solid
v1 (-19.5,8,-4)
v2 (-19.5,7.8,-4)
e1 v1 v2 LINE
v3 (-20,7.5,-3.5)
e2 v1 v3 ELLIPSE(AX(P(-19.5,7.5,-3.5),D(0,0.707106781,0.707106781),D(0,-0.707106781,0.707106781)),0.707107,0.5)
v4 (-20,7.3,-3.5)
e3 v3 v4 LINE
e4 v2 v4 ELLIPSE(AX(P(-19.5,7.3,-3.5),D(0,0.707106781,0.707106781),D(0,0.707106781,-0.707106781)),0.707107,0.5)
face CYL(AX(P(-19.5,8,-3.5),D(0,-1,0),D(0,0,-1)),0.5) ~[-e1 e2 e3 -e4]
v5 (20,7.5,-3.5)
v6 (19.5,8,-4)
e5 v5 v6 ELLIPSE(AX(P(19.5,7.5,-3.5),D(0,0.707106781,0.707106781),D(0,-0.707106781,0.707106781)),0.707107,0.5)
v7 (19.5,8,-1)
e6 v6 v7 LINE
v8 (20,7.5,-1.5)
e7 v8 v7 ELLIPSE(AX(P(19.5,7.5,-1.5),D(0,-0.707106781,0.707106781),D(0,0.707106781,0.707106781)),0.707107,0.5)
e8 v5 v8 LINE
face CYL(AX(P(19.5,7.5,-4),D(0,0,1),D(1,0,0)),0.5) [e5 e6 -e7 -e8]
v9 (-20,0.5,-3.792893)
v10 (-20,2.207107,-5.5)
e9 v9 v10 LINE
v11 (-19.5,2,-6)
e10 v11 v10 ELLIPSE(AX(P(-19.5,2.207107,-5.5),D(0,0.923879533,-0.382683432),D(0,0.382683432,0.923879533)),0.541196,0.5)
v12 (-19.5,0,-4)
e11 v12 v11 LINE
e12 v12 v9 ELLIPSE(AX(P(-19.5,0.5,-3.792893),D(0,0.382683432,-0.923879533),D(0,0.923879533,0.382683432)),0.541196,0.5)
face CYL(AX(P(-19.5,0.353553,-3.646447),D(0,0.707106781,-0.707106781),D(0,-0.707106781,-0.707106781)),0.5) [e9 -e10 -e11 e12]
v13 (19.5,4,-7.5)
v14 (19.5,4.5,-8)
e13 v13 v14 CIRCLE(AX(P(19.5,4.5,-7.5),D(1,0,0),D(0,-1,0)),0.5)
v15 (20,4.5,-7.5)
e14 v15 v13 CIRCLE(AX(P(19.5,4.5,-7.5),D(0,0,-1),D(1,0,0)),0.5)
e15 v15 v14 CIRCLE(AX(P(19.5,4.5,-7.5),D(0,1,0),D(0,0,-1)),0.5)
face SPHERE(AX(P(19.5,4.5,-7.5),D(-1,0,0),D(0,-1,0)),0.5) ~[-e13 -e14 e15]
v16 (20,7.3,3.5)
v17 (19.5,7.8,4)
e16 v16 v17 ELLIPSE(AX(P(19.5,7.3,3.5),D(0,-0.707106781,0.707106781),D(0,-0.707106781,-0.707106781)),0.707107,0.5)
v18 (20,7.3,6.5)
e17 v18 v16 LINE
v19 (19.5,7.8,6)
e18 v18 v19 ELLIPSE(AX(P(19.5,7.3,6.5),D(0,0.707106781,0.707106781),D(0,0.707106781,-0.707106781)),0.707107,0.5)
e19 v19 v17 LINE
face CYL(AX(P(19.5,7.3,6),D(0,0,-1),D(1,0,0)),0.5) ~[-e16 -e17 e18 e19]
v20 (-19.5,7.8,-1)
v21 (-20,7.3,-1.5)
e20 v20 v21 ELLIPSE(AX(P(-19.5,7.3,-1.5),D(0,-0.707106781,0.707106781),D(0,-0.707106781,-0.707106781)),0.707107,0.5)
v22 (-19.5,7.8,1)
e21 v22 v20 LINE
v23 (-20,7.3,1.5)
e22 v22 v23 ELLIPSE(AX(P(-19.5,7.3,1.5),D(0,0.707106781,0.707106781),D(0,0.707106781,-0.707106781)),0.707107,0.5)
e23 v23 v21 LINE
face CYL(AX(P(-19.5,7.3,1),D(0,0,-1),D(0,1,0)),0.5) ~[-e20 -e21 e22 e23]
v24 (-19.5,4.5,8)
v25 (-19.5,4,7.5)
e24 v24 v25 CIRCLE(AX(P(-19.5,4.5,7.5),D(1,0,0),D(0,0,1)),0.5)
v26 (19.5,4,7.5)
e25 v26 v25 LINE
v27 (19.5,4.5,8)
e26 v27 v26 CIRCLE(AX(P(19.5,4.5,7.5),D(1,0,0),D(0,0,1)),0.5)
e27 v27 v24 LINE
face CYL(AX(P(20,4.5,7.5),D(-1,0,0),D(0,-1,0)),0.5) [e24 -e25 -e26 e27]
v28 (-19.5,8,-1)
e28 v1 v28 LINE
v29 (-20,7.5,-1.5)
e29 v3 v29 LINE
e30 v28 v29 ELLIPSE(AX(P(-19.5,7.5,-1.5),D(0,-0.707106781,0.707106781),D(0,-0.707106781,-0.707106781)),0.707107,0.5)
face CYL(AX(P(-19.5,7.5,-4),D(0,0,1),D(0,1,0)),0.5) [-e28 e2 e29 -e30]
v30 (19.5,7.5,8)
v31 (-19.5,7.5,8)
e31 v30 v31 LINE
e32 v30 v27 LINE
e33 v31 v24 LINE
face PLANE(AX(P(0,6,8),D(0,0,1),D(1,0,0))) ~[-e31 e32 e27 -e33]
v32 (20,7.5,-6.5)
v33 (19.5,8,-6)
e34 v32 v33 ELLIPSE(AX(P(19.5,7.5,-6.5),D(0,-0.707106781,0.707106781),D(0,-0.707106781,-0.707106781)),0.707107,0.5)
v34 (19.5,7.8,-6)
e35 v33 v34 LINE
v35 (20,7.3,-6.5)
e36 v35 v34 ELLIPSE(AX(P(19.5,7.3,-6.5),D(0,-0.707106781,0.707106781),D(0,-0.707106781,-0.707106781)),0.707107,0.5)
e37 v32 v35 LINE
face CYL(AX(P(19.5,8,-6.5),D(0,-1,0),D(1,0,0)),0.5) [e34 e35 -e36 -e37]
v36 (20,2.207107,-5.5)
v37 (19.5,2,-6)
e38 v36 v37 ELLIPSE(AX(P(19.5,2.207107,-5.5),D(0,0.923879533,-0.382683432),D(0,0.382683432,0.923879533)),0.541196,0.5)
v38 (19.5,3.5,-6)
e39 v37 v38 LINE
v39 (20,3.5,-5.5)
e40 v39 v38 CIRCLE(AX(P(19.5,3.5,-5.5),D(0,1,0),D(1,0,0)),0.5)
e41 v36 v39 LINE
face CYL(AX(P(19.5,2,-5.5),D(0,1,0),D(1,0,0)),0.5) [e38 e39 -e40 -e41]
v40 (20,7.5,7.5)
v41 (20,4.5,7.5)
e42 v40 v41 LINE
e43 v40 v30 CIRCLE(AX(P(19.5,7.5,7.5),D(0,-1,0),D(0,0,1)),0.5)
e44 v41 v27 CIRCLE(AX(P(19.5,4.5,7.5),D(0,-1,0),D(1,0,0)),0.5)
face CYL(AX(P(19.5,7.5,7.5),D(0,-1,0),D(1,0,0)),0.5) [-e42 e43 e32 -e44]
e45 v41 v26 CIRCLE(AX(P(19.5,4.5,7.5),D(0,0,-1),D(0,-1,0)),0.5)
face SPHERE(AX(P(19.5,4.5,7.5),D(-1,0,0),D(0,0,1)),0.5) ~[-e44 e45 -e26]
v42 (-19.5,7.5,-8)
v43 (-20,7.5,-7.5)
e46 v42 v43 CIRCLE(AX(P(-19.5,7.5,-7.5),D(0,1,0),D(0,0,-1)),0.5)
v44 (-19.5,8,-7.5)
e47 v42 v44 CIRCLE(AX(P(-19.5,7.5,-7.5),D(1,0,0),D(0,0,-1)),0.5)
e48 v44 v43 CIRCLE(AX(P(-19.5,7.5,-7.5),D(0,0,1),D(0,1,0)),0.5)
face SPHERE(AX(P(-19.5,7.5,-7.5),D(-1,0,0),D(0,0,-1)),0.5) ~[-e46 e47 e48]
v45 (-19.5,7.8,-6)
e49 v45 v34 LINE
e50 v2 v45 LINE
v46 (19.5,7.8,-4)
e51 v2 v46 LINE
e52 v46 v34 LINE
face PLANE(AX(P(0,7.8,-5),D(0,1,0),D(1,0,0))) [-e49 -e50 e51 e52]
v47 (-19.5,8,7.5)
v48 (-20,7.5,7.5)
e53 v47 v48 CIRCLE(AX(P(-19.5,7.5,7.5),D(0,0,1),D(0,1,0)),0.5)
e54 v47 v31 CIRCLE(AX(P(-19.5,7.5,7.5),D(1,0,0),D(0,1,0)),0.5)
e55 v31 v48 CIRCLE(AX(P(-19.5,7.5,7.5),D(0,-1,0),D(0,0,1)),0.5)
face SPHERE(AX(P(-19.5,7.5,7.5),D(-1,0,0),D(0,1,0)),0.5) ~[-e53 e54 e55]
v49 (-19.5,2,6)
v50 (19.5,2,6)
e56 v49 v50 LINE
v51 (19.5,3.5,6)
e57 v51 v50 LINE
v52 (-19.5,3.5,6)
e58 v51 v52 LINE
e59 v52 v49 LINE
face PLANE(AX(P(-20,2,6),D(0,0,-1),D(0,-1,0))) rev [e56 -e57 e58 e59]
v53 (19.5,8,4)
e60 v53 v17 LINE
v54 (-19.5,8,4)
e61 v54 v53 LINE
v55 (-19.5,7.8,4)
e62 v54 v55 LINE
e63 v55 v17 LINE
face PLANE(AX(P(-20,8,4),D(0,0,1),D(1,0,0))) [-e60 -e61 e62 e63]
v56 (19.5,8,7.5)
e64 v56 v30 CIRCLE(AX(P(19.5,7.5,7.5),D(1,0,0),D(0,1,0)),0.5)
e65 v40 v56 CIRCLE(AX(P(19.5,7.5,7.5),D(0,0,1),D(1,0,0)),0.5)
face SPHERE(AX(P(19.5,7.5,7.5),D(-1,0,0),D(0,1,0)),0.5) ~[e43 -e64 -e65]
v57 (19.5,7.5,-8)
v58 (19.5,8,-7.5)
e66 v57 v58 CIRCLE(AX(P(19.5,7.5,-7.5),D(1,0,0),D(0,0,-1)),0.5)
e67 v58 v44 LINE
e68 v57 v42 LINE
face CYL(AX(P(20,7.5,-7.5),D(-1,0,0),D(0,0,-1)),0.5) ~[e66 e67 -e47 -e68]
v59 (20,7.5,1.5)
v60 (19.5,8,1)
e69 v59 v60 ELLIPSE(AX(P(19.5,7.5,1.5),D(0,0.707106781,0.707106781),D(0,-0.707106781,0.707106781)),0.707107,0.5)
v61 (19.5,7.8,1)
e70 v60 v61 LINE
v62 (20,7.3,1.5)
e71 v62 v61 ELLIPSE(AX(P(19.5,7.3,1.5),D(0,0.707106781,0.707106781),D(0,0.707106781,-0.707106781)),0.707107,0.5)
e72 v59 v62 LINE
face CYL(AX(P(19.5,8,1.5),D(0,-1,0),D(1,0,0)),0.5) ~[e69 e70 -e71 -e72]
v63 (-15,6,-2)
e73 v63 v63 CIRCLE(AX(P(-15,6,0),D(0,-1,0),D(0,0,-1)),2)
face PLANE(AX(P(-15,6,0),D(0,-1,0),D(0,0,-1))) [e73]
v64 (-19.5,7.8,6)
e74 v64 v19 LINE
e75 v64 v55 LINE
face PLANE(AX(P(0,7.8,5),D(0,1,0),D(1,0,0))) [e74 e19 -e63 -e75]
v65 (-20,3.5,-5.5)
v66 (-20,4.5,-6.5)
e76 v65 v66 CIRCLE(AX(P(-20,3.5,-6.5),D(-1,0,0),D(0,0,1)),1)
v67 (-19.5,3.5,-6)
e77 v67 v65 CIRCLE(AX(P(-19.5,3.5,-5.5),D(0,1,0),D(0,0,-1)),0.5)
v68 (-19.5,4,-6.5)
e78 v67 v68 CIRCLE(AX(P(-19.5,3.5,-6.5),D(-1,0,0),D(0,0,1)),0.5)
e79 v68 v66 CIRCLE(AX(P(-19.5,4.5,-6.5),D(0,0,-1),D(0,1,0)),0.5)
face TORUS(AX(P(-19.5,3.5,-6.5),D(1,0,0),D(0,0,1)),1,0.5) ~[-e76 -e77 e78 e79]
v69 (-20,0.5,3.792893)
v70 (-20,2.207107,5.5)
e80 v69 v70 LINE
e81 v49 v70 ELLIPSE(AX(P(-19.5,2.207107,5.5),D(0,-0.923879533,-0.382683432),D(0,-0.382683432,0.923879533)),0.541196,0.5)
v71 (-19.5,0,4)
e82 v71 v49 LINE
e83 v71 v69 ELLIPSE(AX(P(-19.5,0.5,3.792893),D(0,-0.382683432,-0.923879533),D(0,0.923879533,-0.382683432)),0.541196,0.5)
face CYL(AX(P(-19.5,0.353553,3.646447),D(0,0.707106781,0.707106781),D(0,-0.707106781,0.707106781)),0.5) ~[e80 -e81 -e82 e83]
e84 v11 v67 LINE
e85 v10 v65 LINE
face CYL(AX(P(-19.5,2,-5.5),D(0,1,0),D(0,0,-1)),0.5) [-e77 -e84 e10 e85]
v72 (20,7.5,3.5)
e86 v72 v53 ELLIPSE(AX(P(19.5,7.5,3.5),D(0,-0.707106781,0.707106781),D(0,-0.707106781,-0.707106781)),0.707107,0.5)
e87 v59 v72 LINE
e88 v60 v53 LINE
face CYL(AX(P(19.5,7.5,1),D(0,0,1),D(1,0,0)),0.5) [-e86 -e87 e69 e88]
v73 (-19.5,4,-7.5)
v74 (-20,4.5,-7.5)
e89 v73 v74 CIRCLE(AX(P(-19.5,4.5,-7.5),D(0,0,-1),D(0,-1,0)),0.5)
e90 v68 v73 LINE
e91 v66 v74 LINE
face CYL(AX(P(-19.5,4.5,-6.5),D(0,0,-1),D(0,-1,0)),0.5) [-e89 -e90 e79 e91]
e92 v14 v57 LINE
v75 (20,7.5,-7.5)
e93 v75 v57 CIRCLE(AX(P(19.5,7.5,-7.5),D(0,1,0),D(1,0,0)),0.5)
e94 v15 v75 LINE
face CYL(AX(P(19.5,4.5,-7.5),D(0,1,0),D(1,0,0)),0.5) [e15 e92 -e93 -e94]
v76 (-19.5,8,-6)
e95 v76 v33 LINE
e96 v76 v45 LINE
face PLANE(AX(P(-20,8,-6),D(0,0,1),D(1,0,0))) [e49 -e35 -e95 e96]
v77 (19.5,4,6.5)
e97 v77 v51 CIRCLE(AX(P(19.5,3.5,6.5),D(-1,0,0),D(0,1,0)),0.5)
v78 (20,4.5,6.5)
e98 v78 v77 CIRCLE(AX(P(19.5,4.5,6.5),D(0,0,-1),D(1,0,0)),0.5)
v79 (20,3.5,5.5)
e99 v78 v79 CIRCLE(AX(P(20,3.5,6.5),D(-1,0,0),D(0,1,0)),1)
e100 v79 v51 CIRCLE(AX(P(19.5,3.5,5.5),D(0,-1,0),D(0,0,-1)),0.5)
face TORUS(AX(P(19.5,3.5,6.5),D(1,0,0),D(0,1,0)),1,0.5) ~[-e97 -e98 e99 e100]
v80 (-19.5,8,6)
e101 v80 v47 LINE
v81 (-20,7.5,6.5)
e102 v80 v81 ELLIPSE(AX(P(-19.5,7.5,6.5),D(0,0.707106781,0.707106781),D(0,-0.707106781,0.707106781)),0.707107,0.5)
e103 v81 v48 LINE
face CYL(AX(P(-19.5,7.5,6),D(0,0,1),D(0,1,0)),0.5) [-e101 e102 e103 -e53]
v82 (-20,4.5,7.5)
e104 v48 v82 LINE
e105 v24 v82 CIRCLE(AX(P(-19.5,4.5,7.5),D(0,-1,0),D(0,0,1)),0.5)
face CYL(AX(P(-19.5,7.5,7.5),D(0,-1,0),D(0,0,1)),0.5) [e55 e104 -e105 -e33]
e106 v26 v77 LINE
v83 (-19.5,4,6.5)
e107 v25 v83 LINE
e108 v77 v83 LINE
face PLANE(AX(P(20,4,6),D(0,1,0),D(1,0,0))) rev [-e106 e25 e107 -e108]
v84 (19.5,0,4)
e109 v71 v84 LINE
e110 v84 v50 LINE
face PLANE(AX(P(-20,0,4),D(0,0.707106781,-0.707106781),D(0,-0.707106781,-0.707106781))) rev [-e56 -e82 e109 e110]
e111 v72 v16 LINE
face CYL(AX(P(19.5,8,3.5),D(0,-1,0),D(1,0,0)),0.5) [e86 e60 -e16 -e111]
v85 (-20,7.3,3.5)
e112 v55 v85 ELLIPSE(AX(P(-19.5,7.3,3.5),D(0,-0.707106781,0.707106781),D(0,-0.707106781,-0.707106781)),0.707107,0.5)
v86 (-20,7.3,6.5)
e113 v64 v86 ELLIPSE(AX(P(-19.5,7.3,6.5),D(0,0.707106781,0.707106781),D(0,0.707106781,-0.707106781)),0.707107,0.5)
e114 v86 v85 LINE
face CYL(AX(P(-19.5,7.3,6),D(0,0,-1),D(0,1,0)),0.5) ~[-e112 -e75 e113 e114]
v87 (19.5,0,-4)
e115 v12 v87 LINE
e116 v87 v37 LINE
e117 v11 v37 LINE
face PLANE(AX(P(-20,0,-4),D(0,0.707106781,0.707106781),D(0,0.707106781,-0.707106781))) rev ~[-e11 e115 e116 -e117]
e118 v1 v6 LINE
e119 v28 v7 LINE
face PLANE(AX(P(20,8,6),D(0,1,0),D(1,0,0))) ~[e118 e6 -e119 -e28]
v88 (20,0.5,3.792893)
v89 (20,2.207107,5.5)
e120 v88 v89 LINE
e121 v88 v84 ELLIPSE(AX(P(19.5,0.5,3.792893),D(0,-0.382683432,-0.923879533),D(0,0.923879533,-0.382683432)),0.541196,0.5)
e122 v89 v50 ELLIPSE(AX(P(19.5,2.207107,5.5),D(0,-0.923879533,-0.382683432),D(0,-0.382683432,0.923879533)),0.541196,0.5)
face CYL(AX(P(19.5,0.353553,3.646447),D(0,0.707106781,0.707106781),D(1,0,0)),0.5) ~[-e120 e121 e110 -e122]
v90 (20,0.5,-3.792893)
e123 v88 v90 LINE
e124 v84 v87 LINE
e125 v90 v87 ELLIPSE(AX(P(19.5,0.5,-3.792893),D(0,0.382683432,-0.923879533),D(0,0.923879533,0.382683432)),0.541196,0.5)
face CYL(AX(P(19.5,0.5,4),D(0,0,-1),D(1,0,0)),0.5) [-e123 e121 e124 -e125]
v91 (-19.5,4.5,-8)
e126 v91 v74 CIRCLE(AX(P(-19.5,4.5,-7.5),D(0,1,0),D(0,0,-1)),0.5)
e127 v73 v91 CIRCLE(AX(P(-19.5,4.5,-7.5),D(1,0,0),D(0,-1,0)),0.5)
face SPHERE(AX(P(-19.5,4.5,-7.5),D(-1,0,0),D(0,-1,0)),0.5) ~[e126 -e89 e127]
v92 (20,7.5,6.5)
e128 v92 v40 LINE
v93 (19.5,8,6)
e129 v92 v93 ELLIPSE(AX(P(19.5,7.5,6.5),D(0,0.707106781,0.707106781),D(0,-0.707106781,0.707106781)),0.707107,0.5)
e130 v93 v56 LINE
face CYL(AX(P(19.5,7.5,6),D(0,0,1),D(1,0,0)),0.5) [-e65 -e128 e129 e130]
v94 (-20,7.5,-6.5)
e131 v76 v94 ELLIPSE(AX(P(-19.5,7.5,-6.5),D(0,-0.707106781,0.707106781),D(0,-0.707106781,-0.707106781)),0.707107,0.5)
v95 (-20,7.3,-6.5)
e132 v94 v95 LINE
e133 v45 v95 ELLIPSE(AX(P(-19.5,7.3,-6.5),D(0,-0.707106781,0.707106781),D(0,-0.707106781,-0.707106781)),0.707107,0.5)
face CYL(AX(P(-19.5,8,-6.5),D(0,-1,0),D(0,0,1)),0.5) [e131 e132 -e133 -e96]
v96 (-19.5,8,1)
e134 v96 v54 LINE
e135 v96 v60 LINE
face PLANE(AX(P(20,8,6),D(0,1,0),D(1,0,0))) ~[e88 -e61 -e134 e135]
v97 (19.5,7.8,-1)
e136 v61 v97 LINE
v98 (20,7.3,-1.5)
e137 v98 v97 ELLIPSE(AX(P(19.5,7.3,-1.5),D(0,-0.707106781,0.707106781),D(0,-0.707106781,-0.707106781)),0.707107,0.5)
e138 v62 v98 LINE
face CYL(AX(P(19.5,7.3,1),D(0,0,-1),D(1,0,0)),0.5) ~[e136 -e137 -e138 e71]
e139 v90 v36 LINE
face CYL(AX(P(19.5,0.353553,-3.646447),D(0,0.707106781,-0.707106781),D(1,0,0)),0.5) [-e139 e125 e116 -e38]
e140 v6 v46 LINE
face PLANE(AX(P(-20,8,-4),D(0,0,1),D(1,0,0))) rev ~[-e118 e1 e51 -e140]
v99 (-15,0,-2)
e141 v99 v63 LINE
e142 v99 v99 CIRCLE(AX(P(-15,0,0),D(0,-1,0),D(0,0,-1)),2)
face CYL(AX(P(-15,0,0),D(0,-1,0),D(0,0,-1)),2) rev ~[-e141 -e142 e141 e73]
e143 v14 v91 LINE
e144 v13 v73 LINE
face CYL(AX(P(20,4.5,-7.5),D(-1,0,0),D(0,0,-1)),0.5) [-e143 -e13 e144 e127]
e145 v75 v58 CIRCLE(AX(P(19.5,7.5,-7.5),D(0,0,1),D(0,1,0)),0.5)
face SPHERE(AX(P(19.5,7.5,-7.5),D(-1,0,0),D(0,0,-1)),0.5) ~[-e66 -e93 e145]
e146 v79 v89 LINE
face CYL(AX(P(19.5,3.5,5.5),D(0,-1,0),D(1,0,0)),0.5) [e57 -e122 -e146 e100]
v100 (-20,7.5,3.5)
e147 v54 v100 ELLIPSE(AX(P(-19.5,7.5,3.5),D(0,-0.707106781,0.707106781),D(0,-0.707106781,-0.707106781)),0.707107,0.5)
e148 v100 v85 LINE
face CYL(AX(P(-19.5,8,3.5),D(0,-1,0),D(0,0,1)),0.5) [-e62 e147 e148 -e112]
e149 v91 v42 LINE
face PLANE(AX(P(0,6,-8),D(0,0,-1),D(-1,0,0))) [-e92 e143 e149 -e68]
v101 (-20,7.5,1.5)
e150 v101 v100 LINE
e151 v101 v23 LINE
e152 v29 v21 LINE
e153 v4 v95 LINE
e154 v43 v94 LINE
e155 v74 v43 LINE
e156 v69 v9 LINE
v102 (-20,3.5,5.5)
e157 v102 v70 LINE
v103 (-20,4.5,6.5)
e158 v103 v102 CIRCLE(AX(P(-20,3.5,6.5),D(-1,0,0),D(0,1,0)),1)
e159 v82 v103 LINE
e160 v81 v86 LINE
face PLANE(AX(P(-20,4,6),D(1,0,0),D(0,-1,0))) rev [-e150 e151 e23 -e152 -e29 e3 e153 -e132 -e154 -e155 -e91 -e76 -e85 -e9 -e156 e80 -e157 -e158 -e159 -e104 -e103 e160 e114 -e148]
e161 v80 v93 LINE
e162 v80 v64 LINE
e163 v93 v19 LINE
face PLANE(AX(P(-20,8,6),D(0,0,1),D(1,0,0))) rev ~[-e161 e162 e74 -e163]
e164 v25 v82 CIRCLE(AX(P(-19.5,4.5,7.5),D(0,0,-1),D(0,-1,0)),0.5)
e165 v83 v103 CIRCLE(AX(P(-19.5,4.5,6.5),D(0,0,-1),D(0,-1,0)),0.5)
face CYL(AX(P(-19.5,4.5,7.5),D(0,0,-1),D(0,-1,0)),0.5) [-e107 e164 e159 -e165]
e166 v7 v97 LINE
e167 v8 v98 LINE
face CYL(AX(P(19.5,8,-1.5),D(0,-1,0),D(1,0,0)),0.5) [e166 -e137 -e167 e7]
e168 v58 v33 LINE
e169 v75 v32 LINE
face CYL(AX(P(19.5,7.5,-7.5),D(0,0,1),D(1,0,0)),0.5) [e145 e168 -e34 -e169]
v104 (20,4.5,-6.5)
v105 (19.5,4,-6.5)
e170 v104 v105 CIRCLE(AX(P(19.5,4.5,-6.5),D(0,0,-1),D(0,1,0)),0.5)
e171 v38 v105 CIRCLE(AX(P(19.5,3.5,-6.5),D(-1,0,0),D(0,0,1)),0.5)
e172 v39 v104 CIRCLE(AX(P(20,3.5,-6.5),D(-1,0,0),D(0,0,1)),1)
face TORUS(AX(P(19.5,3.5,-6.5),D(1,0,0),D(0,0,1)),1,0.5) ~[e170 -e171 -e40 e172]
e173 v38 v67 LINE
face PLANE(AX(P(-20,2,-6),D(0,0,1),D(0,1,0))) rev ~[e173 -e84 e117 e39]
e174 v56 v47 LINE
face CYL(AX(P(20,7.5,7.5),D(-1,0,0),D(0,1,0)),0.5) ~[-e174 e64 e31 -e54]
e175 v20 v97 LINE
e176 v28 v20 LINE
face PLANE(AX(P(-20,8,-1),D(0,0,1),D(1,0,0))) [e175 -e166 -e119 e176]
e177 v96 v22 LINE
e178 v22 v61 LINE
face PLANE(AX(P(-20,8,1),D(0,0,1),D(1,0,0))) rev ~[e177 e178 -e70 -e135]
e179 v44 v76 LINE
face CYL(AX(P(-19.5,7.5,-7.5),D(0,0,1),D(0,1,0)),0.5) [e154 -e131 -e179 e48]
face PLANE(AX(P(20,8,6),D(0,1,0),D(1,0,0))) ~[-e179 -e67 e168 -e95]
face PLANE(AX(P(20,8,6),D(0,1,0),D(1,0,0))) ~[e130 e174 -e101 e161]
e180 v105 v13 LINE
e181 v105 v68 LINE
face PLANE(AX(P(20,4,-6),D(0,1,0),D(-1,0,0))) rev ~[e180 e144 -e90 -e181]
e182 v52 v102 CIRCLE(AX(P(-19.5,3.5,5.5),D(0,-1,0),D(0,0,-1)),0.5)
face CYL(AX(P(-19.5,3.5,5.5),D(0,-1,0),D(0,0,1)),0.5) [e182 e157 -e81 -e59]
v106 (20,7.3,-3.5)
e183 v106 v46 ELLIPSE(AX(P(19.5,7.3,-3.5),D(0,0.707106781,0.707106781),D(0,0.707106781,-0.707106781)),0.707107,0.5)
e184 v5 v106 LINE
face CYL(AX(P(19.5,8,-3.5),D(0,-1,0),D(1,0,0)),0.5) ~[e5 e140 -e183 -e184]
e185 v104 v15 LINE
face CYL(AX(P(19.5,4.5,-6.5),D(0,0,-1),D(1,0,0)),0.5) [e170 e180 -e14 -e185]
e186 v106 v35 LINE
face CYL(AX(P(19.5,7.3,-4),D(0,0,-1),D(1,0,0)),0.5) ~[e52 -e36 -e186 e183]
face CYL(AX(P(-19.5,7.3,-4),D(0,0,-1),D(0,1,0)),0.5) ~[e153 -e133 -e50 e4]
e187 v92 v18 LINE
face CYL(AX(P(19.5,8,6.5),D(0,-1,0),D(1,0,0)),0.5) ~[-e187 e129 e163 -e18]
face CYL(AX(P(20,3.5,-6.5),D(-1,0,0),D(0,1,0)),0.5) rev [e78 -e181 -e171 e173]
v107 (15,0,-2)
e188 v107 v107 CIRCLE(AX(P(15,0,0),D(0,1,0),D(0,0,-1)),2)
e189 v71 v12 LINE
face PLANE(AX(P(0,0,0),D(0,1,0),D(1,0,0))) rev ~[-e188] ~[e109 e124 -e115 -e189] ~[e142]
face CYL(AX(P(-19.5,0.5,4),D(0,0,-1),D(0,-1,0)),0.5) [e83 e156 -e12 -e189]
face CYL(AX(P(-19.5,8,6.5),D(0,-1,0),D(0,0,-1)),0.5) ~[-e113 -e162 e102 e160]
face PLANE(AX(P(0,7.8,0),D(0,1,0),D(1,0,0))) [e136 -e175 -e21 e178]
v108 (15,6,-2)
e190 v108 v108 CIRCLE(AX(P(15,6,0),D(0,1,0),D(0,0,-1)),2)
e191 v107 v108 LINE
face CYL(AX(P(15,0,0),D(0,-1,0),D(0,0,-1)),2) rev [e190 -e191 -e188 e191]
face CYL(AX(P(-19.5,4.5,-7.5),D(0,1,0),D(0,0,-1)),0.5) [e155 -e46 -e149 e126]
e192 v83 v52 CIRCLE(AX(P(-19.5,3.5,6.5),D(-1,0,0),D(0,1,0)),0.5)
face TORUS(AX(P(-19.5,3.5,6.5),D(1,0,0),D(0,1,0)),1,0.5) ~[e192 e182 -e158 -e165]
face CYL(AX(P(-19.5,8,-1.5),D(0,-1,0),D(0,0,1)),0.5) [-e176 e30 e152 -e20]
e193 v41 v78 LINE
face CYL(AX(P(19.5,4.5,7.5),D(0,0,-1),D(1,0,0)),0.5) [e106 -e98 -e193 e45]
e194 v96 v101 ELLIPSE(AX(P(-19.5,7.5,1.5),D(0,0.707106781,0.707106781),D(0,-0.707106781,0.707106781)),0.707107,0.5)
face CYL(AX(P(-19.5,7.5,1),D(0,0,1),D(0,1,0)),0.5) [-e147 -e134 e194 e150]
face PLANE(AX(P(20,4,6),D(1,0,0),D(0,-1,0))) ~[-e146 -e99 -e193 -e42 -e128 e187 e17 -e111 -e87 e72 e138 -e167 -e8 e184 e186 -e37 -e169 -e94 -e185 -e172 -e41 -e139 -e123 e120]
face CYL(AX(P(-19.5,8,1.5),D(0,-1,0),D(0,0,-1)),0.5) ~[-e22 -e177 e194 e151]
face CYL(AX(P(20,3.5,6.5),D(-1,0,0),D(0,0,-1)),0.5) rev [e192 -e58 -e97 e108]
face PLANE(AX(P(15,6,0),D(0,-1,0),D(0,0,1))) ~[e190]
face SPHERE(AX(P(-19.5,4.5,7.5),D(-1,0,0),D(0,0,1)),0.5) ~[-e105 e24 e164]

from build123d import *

# Parameters (mm, degrees)
ESQUISSE1_W             = 40
ESQUISSE1_H             = 8
BOSS_EXTRU_1_DEPTH      = 8
BOSS_EXTRU_3_DEPTH      = 40
ESQUISSE6_W             = 40
ESQUISSE6_H             = 4
BOSS_EXTRU_4_DEPTH      = 2
ESQUISSE7_R             = 2
ENL_V_MAT_EXTRU_1_DEPTH = 6
ESQUISSE10_W            = 40
ESQUISSE10_H            = 2
ENL_V_MAT_EXTRU_4_DEPTH = 0.2
CONG_2_R                = 0.5
CONG_3_R                = 0.5
CONG_4_R                = 0.5


with BuildPart() as part:
    # Esquisse1 → Boss.-Extru.1 (new body)
    with BuildSketch(Plane(origin=(0, 0, 0), x_dir=(1, 0, 0), z_dir=(0, 1, 0))):
        Rectangle(ESQUISSE1_W, ESQUISSE1_H)
    extrude(amount=BOSS_EXTRU_1_DEPTH)

    # Esquisse5 → Boss.-Extru.3 (add)
    with BuildSketch(Plane.ZY.offset(20)):
        Polygon((-4, 0), (-6, 2), (-6, 8), (-4, 8), align=None)
    boss_extru_3 = extrude(amount=-BOSS_EXTRU_3_DEPTH)

    # Symétrie2: Boss.-Extru.3 across plane
    add(boss_extru_3.mirror(Plane(origin=(0, 0, 0), x_dir=(1, 0, 0), z_dir=(0, 0, -1))))

    # Esquisse6 → Boss.-Extru.4 (add)
    with BuildSketch(Plane(origin=(0, 0, -6), x_dir=(-1, 0, 0), z_dir=(0, 0, -1))):
        with Locations((0, 6)):
            Rectangle(ESQUISSE6_W, ESQUISSE6_H)
    boss_extru_4 = extrude(amount=BOSS_EXTRU_4_DEPTH)

    # Symétrie4: Boss.-Extru.4 across plane
    add(boss_extru_4.mirror(Plane(origin=(0, 0, 0), x_dir=(1, 0, 0), z_dir=(0, 0, -1))))

    # Esquisse7 → Enlèv. mat.-Extru.1 (cut)
    with BuildSketch(Plane.XZ):
        with Locations(Location((-15, 0, 0), (0, 0, 270))):
            Circle(ESQUISSE7_R)
    enl_v_mat_extru_1 = extrude(amount=-ENL_V_MAT_EXTRU_1_DEPTH, mode=Mode.SUBTRACT)

    # Symétrie10: Enlèv. mat.-Extru.1 across plane
    add(enl_v_mat_extru_1.mirror(Plane(origin=(0, 0, 0), x_dir=(0, 0, 1), z_dir=(1, 0, 0))), mode=Mode.SUBTRACT)

    # Esquisse10 → Enlèv. mat.-Extru.4 (cut)
    with BuildSketch(Plane(origin=(0, 8, 0), x_dir=(1, 0, 0), z_dir=(0, 1, 0))):
        Rectangle(ESQUISSE10_W, ESQUISSE10_H)
        with Locations((0, 5)):
            Rectangle(ESQUISSE10_W, ESQUISSE10_H)
        with Locations((0, -5)):
            Rectangle(ESQUISSE10_W, ESQUISSE10_H)
    extrude(amount=-ENL_V_MAT_EXTRU_4_DEPTH, mode=Mode.SUBTRACT)

    # Congé2
    cong_2_edges = [part.edges().sort_by_distance(p)[0] for p in [
        (0, 8, -8),
        (0, 8, 8),
    ]]
    fillet(cong_2_edges, radius=CONG_2_R)

    # Congé3
    cong_3_edges = [part.edges().sort_by_distance(p)[0] for p in [
        (0, 4, -6),
        (0, 4, -8),
        (0, 4, 8),
        (0, 4, 6),
    ]]
    fillet(cong_3_edges, radius=CONG_3_R)

    # Congé4
    cong_4_edges = [part.edges().sort_by_distance(p)[0] for p in [
        (-20, 7.8, -5),
        (-20, 7.9, -4),
        (-20, 7.9, -6),
        (20, 7.8, -5),
        (20, 7.9, -6),
        (20, 7.9, -4),
        (-20, 7.8, 5),
        (-20, 7.9, 6),
        (-20, 7.9, 4),
        (20, 7.8, 5),
        (20, 7.9, 4),
        (20, 7.9, 6),
        (20, 8, 6.75),
        (20, 6, 8),
        (20, 6, -8),
        (20, 7.853553391, -7.853553391),
        (20, 7.853553391, 7.853553391),
        (-20, 8, -6.75),
        (-20, 7.853553391, -7.853553391),
        (-20, 7.853553391, 7.853553391),
        (20, 2.75, 6),
        (-20, 2.75, 6),
        (20, 4, 7),
        (-20, 4, 7),
        (20, 1, -5),
        (-20, 6, 8),
        (-20, 6, -8),
        (-20, 4, -7),
        (-20, 2.75, -6),
        (-20, 4.146446609, -7.853553391),
        (-20, 4.146446609, 7.853553391),
        (20, 2.75, -6),
        (20, 4, -7),
        (20, 4.146446609, -7.853553391),
        (20, 4.146446609, 7.853553391),
        (-20, 3.853553391, 6.146446609),
        (20, 3.853553391, 6.146446609),
        (-20, 3.853553391, -6.146446609),
        (20, 3.853553391, -6.146446609),
        (-20, 1, -5),
        (-20, 1, 5),
        (20, 1, 5),
        (-20, 0, 0),
        (20, 0, 0),
        (20, 8, -2.5),
        (-20, 8, 2.5),
        (-20, 7.8, 0),
        (-20, 7.9, 1),
        (-20, 7.9, -1),
        (20, 7.8, 0),
        (20, 7.9, -1),
        (20, 7.9, 1),
        (-20, 8, 6.75),
        (20, 8, 2.5),
        (-20, 8, -2.5),
        (20, 8, -6.75),
    ]]
    fillet(cong_4_edges, radius=CONG_4_R)


solid = part.part
